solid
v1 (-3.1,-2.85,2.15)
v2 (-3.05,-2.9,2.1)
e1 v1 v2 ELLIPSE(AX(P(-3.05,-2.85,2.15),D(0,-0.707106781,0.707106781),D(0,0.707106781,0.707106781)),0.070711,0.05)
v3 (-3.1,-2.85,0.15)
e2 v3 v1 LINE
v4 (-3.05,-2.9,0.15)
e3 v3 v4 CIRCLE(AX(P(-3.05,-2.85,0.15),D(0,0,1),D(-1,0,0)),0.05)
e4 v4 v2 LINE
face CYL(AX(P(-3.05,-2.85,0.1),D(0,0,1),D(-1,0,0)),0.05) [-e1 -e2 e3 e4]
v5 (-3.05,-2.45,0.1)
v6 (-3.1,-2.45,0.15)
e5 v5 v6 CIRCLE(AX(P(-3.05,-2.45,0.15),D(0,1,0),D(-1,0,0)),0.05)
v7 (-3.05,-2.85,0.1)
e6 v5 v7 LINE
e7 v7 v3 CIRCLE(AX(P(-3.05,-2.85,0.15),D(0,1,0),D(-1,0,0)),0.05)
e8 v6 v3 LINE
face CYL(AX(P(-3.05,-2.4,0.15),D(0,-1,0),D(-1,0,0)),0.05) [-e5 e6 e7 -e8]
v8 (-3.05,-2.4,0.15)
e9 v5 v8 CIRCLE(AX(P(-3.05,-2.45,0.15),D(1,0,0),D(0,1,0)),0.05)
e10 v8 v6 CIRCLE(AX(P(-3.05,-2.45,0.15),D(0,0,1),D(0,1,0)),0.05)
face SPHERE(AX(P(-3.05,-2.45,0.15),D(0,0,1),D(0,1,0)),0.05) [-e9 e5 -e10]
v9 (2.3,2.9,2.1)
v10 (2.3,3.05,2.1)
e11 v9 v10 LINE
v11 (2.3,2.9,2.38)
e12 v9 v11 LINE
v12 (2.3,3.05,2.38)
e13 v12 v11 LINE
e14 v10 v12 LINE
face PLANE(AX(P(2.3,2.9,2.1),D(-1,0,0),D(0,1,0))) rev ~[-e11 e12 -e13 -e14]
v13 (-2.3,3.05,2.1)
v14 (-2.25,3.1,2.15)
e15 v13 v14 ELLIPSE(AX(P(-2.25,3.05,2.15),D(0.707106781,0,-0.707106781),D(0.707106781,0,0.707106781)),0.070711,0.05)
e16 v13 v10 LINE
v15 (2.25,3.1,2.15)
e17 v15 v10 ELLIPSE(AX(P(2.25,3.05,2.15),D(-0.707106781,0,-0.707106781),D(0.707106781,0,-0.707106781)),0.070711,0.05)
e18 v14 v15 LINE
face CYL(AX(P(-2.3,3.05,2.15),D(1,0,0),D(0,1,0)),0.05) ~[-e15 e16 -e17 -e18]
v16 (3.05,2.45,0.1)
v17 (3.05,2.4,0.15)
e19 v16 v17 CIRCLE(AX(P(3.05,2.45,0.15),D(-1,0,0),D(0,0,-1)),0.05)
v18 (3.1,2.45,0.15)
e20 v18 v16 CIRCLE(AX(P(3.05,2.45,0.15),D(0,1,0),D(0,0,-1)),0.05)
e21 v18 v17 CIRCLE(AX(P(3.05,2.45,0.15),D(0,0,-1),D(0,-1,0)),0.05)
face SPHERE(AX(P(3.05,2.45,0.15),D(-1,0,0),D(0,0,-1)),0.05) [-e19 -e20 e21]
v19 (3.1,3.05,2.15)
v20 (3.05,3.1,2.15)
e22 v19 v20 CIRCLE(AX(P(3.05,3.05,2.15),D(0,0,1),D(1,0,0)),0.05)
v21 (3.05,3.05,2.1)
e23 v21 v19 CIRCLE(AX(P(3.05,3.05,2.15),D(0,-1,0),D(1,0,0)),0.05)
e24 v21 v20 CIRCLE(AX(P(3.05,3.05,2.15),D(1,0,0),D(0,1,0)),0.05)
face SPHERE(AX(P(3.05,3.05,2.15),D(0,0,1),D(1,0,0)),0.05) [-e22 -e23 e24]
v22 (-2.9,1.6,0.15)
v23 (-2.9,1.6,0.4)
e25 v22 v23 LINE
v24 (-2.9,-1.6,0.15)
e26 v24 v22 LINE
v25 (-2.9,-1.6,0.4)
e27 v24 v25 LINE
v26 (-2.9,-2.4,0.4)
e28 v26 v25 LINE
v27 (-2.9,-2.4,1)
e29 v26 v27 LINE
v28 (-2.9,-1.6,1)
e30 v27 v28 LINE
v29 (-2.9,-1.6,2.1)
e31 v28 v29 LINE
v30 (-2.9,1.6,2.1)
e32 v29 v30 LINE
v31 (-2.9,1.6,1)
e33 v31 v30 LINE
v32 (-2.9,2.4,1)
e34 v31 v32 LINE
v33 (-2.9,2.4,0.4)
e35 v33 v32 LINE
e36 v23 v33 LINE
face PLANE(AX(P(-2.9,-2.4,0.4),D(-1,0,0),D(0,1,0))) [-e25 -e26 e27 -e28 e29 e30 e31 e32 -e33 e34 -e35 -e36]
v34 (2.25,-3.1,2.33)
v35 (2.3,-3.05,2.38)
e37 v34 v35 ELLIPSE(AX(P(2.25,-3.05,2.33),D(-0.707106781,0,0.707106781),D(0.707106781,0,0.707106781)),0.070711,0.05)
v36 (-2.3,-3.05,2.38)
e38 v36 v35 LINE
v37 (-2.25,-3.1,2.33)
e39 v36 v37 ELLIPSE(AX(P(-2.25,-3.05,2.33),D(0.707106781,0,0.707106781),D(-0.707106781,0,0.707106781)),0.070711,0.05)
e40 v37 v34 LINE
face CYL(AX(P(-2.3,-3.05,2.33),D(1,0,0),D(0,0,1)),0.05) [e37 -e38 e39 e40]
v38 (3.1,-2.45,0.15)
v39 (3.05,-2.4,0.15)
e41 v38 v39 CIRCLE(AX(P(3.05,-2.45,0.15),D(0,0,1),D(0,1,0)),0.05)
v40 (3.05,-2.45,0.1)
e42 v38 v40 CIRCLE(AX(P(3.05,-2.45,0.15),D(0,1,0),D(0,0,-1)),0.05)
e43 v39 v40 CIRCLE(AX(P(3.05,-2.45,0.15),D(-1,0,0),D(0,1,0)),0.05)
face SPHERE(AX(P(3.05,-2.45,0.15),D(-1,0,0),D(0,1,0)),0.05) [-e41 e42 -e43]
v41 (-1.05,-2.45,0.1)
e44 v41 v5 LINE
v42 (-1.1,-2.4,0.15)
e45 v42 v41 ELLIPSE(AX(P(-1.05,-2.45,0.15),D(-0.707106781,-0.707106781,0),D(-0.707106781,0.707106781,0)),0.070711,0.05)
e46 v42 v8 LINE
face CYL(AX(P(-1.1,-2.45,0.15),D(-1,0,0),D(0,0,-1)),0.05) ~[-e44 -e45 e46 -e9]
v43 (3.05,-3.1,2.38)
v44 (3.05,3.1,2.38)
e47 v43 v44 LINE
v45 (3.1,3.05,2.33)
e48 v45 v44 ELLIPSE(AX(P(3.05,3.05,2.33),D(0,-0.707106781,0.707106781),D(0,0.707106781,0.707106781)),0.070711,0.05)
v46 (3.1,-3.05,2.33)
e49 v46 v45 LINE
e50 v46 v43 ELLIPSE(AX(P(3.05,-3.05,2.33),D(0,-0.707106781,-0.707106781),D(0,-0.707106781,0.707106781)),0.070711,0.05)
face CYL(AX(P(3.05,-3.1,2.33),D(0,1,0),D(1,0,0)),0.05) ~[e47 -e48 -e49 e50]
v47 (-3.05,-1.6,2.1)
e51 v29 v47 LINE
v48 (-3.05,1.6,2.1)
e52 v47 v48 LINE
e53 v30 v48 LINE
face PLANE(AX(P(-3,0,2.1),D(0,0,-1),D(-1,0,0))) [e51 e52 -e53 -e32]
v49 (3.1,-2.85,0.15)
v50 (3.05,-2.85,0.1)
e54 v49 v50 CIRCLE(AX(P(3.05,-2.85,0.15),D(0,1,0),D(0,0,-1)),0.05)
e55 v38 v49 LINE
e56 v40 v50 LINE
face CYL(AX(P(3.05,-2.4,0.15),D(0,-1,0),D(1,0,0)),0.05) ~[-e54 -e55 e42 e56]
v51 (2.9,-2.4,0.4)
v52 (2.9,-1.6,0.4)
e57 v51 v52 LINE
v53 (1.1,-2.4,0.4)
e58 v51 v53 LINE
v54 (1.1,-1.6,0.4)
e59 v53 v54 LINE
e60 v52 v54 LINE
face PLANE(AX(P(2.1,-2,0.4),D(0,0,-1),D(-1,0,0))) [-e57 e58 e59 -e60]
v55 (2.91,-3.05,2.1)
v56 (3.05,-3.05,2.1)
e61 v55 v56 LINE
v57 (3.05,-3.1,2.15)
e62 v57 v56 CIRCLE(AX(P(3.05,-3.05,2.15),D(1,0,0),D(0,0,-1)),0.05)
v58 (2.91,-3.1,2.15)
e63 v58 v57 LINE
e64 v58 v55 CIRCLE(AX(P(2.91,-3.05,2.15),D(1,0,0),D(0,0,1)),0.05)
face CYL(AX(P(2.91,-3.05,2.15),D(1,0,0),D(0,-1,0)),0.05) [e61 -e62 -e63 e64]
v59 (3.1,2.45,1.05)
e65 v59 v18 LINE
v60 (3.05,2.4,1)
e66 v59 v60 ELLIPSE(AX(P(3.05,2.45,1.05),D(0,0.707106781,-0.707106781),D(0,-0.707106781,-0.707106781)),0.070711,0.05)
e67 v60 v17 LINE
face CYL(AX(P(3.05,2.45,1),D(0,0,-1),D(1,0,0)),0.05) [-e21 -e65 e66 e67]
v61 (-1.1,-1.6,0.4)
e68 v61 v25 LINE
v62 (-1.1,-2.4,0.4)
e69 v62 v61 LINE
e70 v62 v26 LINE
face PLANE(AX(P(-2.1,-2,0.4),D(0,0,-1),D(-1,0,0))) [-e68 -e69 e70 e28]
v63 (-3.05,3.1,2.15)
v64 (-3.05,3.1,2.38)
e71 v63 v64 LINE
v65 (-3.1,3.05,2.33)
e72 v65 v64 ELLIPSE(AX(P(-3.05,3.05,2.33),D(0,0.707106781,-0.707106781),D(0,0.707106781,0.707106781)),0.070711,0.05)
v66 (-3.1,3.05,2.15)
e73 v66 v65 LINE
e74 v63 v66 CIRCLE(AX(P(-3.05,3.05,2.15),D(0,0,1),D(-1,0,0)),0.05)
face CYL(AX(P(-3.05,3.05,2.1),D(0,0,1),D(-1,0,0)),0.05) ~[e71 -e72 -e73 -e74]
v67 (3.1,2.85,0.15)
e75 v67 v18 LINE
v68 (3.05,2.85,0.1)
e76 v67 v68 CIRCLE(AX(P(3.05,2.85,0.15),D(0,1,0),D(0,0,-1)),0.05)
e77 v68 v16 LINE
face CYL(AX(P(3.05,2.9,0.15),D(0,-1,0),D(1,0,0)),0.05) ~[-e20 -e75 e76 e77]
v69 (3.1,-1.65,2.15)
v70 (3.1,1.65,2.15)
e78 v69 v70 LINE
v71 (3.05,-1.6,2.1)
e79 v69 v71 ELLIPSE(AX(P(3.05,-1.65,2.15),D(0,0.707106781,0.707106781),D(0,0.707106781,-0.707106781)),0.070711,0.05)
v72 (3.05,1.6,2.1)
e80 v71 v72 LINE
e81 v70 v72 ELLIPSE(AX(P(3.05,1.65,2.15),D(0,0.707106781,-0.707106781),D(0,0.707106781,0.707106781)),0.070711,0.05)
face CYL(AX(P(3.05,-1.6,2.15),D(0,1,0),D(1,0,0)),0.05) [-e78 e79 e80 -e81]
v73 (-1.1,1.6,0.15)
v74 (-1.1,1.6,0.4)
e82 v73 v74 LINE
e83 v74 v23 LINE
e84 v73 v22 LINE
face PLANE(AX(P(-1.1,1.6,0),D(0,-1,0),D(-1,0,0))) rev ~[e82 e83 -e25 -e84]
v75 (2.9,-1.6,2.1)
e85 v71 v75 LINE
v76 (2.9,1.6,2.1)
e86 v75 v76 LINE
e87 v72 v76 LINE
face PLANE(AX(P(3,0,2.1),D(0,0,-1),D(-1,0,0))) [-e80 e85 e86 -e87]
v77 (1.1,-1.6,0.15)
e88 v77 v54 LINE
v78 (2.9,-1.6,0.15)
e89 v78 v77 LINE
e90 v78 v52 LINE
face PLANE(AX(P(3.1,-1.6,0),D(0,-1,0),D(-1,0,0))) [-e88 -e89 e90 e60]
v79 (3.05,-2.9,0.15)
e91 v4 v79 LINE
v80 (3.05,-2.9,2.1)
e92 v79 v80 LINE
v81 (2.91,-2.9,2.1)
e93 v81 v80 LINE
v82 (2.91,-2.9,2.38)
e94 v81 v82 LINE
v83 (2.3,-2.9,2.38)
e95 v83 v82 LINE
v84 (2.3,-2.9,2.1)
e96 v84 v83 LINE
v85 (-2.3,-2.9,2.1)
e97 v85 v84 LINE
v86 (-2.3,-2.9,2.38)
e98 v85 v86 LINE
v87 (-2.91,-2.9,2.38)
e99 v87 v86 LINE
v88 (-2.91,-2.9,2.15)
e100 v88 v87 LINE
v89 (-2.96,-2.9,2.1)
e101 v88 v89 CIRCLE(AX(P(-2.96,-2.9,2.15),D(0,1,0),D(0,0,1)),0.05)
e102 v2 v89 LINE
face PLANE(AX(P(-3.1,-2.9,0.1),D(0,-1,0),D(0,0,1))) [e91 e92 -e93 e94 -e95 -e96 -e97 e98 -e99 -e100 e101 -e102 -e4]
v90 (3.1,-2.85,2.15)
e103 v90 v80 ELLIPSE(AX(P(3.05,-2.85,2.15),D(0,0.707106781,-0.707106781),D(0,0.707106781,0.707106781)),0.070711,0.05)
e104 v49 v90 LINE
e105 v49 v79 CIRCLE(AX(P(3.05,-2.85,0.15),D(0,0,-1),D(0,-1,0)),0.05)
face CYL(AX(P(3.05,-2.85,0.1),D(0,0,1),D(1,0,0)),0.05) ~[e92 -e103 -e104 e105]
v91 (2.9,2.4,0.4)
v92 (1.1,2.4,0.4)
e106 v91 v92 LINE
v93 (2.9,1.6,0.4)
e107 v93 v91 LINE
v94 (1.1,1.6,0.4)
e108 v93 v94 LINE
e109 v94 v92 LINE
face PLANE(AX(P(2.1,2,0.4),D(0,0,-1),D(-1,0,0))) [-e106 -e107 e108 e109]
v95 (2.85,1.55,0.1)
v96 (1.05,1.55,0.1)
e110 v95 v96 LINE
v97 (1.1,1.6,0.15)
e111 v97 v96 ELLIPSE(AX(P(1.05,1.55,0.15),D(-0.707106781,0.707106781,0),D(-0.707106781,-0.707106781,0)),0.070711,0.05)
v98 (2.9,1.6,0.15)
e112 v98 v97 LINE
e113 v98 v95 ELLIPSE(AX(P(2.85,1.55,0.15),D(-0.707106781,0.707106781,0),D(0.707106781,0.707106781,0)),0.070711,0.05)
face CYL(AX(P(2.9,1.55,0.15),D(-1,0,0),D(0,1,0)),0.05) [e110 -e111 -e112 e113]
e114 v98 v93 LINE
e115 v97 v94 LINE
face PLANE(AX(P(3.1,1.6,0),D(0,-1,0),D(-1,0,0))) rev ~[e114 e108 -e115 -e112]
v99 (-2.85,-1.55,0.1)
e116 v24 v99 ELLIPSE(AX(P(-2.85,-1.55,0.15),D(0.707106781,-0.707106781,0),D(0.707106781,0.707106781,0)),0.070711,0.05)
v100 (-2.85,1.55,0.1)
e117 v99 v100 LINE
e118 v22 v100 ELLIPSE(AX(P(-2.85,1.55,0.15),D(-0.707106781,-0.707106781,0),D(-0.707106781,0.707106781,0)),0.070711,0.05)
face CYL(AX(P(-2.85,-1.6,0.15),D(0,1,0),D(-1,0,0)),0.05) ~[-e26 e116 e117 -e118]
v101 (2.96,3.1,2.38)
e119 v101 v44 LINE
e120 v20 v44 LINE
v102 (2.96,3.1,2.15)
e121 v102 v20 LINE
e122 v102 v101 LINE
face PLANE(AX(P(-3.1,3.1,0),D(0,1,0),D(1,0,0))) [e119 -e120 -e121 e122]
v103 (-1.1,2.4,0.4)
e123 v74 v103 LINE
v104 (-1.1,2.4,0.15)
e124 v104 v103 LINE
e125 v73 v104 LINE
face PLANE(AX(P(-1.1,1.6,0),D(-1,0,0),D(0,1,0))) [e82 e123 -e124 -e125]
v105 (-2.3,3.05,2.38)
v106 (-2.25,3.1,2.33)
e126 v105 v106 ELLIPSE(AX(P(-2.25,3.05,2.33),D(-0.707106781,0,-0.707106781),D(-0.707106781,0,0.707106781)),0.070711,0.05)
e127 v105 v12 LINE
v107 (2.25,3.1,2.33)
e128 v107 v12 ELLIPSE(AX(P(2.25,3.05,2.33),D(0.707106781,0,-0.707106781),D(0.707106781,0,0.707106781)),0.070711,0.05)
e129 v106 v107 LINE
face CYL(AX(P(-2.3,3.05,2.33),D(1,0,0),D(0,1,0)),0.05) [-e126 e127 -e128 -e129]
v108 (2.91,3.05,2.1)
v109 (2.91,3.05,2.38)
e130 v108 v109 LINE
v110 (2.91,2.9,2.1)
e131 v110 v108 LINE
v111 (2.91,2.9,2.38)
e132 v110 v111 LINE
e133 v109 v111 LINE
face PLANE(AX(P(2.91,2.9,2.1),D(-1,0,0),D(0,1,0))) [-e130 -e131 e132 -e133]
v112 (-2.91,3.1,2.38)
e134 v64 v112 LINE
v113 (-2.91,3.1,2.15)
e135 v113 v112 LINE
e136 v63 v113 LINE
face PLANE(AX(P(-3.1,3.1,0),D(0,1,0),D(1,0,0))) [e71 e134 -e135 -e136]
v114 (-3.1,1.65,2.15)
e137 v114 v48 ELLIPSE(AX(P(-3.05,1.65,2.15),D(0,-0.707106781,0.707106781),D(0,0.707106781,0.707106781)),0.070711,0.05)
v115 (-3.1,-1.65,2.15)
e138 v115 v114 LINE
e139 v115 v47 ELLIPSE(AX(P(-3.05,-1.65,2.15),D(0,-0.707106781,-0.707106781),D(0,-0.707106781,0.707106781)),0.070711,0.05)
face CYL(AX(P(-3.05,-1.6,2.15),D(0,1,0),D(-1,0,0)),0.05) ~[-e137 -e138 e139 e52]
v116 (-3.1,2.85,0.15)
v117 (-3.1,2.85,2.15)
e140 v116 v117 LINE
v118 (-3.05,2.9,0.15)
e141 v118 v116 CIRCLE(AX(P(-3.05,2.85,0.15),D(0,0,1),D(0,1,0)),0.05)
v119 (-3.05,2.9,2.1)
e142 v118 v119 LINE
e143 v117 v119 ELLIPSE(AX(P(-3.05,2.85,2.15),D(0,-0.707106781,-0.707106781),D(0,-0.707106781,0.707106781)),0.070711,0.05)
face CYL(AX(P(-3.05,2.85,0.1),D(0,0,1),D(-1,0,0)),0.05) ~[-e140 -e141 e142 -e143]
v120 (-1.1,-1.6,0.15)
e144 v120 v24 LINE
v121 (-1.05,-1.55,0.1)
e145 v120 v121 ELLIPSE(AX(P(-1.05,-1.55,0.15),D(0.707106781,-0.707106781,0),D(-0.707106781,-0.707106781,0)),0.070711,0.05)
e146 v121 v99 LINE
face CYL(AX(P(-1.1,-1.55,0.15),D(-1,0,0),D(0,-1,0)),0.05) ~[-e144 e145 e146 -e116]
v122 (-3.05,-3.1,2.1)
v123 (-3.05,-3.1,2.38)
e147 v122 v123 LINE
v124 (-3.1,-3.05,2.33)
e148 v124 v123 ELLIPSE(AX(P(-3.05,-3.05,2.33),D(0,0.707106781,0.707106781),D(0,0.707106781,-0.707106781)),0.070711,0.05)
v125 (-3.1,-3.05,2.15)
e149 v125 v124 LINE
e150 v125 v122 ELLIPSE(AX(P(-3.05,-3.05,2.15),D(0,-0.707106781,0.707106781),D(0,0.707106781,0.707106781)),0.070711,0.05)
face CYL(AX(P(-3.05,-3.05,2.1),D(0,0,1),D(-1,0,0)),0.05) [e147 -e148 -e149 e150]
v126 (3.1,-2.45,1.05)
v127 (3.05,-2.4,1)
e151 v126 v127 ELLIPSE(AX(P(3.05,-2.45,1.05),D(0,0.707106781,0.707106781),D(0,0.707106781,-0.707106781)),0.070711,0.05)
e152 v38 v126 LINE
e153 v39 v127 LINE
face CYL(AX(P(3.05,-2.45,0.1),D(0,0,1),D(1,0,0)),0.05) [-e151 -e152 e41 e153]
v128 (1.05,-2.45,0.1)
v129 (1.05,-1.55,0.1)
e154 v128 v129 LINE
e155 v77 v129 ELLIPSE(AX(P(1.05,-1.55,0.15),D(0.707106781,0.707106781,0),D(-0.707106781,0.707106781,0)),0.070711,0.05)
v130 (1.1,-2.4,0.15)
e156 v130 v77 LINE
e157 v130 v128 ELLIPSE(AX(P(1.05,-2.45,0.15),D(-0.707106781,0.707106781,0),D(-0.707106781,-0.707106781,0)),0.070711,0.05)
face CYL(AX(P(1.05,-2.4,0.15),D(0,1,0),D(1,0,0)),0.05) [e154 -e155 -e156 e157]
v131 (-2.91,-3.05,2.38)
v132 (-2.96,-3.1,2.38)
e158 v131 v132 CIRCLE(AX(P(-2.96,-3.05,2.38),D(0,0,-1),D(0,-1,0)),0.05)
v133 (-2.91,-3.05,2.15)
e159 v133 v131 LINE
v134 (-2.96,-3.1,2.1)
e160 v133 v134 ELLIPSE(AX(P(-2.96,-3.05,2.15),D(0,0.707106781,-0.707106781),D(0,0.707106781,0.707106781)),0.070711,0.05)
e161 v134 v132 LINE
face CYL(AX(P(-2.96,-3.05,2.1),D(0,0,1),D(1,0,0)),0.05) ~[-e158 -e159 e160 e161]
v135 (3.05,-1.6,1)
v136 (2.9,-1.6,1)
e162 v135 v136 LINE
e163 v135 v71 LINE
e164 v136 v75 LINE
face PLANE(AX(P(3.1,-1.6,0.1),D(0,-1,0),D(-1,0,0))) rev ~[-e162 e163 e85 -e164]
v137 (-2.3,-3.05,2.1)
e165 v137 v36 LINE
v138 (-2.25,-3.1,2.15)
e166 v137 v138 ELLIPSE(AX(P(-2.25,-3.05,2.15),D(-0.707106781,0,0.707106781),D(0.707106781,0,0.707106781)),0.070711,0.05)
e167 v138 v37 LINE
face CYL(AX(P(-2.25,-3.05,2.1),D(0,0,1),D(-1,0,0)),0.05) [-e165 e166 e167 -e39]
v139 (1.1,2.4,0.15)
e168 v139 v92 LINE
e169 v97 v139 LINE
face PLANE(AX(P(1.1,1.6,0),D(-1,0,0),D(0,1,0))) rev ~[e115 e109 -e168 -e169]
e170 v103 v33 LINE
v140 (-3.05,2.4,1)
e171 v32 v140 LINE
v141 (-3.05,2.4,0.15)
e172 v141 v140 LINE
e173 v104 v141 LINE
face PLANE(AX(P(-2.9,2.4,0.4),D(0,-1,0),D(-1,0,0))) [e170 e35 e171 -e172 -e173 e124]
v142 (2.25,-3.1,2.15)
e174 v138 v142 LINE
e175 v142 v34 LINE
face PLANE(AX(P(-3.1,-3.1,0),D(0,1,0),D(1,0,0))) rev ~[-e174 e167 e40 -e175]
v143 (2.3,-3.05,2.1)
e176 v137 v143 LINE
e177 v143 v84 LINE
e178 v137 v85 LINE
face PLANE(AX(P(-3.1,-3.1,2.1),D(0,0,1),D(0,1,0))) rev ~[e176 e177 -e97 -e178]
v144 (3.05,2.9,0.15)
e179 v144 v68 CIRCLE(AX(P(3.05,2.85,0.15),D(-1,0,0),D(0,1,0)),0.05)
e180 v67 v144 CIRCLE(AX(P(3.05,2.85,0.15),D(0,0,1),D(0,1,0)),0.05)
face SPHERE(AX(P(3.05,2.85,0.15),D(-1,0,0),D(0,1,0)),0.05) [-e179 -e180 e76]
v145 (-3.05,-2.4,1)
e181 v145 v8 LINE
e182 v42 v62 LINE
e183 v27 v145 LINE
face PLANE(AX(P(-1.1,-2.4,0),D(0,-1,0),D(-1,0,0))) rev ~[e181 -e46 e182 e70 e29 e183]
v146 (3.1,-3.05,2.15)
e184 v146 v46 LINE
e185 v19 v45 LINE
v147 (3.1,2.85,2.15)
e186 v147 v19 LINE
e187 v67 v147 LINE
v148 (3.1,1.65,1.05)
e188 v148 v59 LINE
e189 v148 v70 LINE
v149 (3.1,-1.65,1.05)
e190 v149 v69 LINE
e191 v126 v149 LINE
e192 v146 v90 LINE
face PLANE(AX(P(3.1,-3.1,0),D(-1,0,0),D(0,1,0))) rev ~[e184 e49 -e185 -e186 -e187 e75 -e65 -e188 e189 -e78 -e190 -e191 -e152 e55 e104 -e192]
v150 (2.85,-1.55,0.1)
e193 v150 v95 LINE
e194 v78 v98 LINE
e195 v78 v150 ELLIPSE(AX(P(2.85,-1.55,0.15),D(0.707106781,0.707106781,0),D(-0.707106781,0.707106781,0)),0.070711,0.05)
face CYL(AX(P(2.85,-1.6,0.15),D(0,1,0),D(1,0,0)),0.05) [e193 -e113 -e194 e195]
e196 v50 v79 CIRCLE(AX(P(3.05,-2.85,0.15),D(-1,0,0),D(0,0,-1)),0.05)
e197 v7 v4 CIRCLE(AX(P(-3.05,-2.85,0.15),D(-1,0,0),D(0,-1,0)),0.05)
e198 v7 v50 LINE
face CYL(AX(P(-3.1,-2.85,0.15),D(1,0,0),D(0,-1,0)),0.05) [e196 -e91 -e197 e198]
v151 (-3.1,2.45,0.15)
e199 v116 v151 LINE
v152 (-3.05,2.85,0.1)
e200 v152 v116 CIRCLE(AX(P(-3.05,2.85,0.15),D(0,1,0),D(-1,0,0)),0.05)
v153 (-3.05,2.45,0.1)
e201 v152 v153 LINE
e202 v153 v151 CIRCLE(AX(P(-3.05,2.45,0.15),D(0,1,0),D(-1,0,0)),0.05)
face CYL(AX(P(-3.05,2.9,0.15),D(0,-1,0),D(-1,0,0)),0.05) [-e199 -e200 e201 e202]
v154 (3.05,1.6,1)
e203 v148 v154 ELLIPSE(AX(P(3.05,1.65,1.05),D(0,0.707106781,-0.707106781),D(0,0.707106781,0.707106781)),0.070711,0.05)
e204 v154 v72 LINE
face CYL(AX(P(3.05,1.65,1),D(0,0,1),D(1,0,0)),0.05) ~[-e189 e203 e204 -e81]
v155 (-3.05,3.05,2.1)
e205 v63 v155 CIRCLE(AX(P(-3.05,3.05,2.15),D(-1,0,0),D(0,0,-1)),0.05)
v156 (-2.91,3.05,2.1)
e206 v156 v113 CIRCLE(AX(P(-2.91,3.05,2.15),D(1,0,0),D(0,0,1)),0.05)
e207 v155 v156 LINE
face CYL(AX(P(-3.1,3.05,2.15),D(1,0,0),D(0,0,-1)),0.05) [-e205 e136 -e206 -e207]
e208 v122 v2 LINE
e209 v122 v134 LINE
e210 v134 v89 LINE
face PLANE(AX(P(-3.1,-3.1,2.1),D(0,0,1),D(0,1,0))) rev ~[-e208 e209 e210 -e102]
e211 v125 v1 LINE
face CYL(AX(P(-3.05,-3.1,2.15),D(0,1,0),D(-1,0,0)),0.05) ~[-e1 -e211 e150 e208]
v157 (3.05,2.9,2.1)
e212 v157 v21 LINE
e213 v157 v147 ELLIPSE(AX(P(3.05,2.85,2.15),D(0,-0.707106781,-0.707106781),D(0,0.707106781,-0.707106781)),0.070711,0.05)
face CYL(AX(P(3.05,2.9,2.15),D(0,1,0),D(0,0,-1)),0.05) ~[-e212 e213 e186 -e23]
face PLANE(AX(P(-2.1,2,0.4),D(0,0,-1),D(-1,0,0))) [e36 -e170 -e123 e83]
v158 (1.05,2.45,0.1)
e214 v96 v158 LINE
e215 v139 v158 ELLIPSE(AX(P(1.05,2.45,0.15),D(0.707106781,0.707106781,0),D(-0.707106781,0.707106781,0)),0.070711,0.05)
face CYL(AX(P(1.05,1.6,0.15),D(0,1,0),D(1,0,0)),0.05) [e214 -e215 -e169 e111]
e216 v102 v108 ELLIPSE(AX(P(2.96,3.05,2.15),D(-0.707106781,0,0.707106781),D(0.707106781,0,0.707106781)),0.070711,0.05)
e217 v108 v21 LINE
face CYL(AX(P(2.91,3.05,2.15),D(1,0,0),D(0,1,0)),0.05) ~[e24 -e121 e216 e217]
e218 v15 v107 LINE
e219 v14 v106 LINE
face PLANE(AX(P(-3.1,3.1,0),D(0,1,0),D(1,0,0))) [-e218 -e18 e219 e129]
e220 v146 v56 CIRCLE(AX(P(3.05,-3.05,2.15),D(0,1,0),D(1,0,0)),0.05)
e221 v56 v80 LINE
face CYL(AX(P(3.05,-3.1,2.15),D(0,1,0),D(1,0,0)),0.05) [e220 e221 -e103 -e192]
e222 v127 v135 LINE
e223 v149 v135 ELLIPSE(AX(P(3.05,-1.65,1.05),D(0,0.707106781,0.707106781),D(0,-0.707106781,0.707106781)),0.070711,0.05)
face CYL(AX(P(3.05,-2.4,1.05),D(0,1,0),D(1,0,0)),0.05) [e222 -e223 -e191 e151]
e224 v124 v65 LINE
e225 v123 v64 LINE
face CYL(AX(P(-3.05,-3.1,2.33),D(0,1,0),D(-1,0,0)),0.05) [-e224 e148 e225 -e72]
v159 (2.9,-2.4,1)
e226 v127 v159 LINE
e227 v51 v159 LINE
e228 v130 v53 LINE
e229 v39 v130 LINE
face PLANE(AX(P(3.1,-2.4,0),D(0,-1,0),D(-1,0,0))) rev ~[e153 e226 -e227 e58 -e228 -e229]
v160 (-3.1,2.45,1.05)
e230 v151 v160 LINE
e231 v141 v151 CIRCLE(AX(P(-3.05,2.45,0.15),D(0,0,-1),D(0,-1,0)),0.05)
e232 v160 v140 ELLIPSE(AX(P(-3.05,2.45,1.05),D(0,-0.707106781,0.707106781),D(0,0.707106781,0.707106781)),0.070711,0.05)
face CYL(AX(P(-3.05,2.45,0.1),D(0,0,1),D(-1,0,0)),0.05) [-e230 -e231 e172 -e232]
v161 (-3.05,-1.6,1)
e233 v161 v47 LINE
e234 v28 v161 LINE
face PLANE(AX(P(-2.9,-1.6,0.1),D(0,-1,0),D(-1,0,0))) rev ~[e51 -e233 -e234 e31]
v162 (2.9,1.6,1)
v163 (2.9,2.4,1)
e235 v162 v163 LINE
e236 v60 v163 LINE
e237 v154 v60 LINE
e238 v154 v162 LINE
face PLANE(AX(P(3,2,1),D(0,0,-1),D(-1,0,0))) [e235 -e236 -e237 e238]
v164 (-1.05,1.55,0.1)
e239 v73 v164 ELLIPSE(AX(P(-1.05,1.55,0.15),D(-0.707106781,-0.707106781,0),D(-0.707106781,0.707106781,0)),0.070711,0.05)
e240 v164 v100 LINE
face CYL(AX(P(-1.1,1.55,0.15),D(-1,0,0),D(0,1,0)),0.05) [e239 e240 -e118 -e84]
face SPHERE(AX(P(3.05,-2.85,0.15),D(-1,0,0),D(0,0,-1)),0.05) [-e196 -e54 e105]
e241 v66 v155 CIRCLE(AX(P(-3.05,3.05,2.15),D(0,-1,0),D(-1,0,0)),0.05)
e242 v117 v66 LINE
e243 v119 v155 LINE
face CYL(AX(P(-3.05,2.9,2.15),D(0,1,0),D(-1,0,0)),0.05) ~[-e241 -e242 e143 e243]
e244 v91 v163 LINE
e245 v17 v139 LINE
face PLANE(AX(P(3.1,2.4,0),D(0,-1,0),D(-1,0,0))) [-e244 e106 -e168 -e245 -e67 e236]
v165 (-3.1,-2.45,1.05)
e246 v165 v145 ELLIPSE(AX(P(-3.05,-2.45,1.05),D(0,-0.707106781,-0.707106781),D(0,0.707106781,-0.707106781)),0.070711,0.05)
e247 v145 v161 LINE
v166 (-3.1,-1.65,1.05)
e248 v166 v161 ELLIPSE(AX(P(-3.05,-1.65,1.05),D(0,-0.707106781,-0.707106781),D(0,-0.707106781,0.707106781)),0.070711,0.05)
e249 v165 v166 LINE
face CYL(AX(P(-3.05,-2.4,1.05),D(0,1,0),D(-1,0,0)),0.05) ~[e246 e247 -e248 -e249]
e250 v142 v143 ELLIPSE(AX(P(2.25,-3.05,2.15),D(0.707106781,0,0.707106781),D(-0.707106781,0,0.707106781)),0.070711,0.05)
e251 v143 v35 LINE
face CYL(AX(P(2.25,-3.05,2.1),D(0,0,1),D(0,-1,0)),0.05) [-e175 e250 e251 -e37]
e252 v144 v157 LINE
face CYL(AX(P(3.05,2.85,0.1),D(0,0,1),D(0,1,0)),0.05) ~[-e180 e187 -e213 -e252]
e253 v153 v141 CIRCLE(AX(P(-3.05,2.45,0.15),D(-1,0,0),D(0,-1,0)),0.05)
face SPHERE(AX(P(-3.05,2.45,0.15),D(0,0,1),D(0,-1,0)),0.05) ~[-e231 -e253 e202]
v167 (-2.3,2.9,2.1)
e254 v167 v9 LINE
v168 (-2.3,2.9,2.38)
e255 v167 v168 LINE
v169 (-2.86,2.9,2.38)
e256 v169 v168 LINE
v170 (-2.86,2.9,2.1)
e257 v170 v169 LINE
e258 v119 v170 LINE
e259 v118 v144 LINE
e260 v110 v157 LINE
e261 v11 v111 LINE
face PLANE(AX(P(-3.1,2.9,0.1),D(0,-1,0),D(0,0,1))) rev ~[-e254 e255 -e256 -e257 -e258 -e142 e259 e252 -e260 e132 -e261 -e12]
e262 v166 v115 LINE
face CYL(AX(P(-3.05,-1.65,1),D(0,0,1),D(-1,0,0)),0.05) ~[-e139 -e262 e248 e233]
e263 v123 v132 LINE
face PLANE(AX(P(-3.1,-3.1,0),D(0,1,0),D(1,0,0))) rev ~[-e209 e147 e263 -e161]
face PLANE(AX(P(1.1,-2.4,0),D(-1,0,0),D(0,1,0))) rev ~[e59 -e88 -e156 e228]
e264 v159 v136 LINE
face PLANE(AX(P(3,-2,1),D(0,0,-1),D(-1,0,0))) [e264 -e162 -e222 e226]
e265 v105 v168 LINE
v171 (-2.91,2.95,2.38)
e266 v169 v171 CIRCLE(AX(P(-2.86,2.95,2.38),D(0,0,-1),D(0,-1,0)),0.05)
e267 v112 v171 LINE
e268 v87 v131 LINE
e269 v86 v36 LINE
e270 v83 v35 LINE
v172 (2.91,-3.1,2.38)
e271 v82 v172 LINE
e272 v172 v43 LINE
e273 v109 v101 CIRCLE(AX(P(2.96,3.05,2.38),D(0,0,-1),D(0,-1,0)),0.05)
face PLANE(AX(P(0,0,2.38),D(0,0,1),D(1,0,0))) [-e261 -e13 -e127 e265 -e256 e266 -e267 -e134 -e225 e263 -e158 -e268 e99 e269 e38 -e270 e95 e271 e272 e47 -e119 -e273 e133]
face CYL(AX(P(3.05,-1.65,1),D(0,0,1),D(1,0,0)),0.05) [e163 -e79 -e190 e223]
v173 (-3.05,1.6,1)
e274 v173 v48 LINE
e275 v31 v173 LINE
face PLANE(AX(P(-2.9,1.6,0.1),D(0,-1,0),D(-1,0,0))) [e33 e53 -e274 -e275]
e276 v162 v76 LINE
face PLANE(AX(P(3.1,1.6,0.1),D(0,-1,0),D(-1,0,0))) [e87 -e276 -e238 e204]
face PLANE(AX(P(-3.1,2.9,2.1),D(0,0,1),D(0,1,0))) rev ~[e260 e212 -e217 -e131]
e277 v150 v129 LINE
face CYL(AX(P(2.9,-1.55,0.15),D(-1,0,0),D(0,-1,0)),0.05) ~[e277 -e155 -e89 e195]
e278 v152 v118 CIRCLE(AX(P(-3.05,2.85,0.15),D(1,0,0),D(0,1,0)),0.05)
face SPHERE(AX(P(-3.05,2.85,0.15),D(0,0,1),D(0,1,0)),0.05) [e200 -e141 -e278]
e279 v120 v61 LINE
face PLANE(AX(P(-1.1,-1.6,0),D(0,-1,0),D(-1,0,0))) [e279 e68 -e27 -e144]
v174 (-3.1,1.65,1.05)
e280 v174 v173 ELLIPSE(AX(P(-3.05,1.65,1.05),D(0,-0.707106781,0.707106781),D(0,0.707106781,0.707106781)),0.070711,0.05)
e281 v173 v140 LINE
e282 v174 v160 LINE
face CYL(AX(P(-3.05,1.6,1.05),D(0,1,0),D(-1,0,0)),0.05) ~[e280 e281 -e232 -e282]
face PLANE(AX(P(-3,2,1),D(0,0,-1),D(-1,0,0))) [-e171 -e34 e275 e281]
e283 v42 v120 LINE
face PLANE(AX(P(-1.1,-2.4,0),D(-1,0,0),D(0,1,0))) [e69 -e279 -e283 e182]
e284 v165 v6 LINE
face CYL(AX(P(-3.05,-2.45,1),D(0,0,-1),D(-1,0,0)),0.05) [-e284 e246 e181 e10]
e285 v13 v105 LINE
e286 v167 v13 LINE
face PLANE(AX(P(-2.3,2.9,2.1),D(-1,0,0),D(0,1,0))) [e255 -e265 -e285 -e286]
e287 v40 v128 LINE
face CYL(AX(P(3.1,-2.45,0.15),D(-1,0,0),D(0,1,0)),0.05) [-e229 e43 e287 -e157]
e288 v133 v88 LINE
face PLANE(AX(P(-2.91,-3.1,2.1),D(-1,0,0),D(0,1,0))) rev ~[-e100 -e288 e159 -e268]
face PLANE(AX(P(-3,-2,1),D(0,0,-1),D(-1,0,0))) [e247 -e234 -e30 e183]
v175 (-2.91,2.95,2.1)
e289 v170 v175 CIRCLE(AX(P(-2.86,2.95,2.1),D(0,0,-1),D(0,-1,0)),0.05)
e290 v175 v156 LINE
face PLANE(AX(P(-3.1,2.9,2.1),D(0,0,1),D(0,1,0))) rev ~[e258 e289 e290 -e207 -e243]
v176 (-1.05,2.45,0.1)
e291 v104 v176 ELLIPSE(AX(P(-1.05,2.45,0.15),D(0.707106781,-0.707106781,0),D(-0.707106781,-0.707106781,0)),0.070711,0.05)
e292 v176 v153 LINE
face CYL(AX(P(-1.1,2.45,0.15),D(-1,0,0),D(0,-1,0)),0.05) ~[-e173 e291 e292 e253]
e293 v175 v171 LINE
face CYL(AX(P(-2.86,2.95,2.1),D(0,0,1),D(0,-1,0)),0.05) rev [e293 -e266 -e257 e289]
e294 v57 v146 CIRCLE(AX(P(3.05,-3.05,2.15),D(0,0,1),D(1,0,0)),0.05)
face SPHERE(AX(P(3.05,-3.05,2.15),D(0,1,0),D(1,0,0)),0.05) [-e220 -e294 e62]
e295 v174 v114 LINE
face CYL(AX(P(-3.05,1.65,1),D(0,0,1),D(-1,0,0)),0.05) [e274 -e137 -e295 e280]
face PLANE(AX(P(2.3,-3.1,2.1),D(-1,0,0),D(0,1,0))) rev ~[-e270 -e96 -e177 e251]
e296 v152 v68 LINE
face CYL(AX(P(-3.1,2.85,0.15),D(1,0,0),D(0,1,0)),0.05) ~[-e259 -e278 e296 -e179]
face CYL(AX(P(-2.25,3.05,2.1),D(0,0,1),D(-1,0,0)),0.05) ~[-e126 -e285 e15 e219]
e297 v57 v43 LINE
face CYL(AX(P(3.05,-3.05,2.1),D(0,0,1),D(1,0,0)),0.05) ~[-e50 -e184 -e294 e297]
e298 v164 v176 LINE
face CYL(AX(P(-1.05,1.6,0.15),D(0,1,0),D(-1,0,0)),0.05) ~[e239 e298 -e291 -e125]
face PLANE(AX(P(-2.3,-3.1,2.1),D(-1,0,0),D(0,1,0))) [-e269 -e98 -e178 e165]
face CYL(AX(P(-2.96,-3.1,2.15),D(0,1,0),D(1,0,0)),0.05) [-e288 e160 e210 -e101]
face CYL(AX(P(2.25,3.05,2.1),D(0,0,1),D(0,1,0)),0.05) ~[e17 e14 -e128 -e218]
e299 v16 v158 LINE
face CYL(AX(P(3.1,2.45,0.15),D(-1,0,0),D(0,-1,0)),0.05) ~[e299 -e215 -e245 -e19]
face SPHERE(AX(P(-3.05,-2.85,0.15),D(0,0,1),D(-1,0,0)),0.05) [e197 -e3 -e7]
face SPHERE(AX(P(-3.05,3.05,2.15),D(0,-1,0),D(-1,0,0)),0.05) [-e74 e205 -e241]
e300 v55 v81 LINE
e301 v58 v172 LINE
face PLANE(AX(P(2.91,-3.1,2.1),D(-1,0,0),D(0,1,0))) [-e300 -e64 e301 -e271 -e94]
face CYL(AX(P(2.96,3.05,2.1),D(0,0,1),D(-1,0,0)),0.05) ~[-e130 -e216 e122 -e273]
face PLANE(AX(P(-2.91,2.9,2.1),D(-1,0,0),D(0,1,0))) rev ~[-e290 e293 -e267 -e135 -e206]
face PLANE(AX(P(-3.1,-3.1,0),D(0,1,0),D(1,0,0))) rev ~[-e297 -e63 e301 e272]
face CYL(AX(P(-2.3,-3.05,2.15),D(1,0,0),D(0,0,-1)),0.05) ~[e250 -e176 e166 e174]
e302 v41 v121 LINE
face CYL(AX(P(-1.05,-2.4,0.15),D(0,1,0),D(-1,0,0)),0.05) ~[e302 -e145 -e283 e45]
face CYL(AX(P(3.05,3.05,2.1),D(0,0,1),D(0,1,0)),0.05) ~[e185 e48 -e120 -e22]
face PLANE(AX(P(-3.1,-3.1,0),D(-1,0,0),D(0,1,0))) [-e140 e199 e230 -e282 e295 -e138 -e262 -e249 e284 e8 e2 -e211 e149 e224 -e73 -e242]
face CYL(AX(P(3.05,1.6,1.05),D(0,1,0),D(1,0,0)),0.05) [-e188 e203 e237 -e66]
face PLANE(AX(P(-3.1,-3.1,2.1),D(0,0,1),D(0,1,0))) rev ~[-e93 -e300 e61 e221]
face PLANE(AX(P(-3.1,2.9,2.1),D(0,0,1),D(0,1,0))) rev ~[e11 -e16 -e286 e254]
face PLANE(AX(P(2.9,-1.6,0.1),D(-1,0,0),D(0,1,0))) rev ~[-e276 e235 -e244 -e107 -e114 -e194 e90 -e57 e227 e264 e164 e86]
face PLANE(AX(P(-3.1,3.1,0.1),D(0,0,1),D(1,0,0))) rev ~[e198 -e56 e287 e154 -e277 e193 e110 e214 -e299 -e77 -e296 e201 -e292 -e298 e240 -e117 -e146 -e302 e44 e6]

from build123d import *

# Parameters (mm, degrees)
SKETCH1_W           = 6.2
SKETCH1_H           = 6.2
BOSS_EXTRUDE1_DEPTH = 2.38
SKETCH2_W           = 2
SKETCH2_H           = 0.8
CUT_EXTRUDE1_DEPTH  = 0.4
SKETCH3_W           = 6.2
SKETCH3_H           = 0.1
CUT_EXTRUDE2_DEPTH  = 7.2
SKETCH14_W          = 0.2
SKETCH14_H          = 3.2
CUT_EXTRUDE3_DEPTH  = 2
SKETCH16_W          = 2
SKETCH16_H          = 0.2
CUT_EXTRUDE4_DEPTH  = 7.2
SKETCH19_W          = 0.61
SKETCH19_H          = 0.2
CUT_EXTRUDE5_DEPTH  = 1.28
SKETCH20_W          = 0.2
SKETCH20_H          = 0.8
CUT_EXTRUDE6_DEPTH  = 0.6
FILLET1_R           = 0.05


with BuildPart() as part:
    # Sketch1 → Boss-Extrude1 (new body)
    with BuildSketch(Plane.XY):
        Rectangle(SKETCH1_W, SKETCH1_H)
    extrude(amount=BOSS_EXTRUDE1_DEPTH)

    # Sketch2 → Cut-Extrude1 (cut)
    with BuildSketch(Plane(origin=(0, 0, 0), x_dir=(-1, 0, 0), z_dir=(0, 0, -1))):
        with Locations((-2.1, 2)):
            Rectangle(SKETCH2_W, SKETCH2_H)
        with Locations((2.1, 2)):
            Rectangle(SKETCH2_W, SKETCH2_H)
        with Locations((2.1, -2)):
            Rectangle(SKETCH2_W, SKETCH2_H)
        with Locations((-2.1, -2)):
            Rectangle(SKETCH2_W, SKETCH2_H)
    extrude(amount=-CUT_EXTRUDE1_DEPTH, mode=Mode.SUBTRACT)

    # Sketch3 → Cut-Extrude2 (cut, through all)
    with BuildSketch(Plane(origin=(0, 3.1, 0), x_dir=(1, 0, 0), z_dir=(0, 1, 0))):
        with Locations((0, -0.05)):
            Rectangle(SKETCH3_W, SKETCH3_H)
    extrude(amount=-CUT_EXTRUDE2_DEPTH, mode=Mode.SUBTRACT)

    # Sketch14 → Cut-Extrude3 (cut)
    with BuildSketch(Plane(origin=(0, 0, 0.1), x_dir=(-1, 0, 0), z_dir=(0, 0, -1))):
        with Locations((3, 0)):
            Rectangle(SKETCH14_W, SKETCH14_H)
        with Locations((-3, 0)):
            Rectangle(SKETCH14_W, SKETCH14_H)
    extrude(amount=-CUT_EXTRUDE3_DEPTH, mode=Mode.SUBTRACT)

    # Sketch16 → Cut-Extrude4 (cut, through all)
    with BuildSketch(Plane.ZY.offset(3.1)):
        with Locations((1.1, -3)):
            Rectangle(SKETCH16_W, SKETCH16_H)
        with Locations((1.1, 3)):
            Rectangle(SKETCH16_W, SKETCH16_H)
    extrude(amount=-CUT_EXTRUDE4_DEPTH, mode=Mode.SUBTRACT)

    # Sketch19 → Cut-Extrude5 (cut, through all)
    with BuildSketch(Plane(origin=(0, 0, 2.1), x_dir=(-1, 0, 0), z_dir=(0, 0, -1))):
        with Locations((-2.605, -3)):
            Rectangle(SKETCH19_W, SKETCH19_H)
        with Locations((2.605, -3)):
            Rectangle(SKETCH19_W, SKETCH19_H)
        with Locations((2.605, 3)):
            Rectangle(SKETCH19_W, SKETCH19_H)
        with Locations((-2.605, 3)):
            Rectangle(SKETCH19_W, SKETCH19_H)
    extrude(amount=-CUT_EXTRUDE5_DEPTH, mode=Mode.SUBTRACT)

    # Sketch20 → Cut-Extrude6 (cut)
    with BuildSketch(Plane(origin=(0, 0, 0.4), x_dir=(-1, 0, 0), z_dir=(0, 0, -1))):
        with Locations((-3, -2)):
            Rectangle(SKETCH20_W, SKETCH20_H)
        with Locations((-3, 2)):
            Rectangle(SKETCH20_W, SKETCH20_H)
        with Locations((3, 2)):
            Rectangle(SKETCH20_W, SKETCH20_H)
        with Locations((3, -2)):
            Rectangle(SKETCH20_W, SKETCH20_H)
    extrude(amount=-CUT_EXTRUDE6_DEPTH, mode=Mode.SUBTRACT)

    # Fillet1
    fillet1_edges = [part.edges().sort_by_distance(p)[0] for p in [
        (2.3, -3.1, 2.24),
        (0, -3.1, 2.1),
        (-2.3, -3.1, 2.24),
        (0, -3.1, 2.38),
        (-2.3, 3.1, 2.24),
        (0, 3.1, 2.1),
        (2.3, 3.1, 2.24),
        (0, 3.1, 2.38),
        (-3.1, -1.6, 1.55),
        (-3.1, 0, 2.1),
        (-3.1, 1.6, 1.55),
        (-3.1, 2, 1),
        (-3.1, 2.4, 0.55),
        (-3.1, 2.9, 1.1),
        (-3.1, 3, 2.1),
        (-3.1, 3.1, 2.24),
        (-3.1, 0, 2.38),
        (-3.1, -3.1, 2.24),
        (-3.1, -3, 2.1),
        (-3.1, -2.9, 1.1),
        (-3.1, -2.4, 0.55),
        (-3.1, -2, 1),
        (-2.1, 2.4, 0.1),
        (-1.1, 2, 0.1),
        (-2, 1.6, 0.1),
        (-2.9, 0, 0.1),
        (-2, -1.6, 0.1),
        (-1.1, -2, 0.1),
        (-2.1, -2.4, 0.1),
        (-3.1, -2.65, 0.1),
        (0, -2.9, 0.1),
        (2.1, -2.4, 0.1),
        (1.1, -2, 0.1),
        (2, -1.6, 0.1),
        (2.9, 0, 0.1),
        (2, 1.6, 0.1),
        (1.1, 2, 0.1),
        (2.1, 2.4, 0.1),
        (0, 2.9, 0.1),
        (-3.1, 2.65, 0.1),
        (3.1, 1.6, 1.55),
        (3.1, 0, 2.1),
        (3.1, -1.6, 1.55),
        (3.1, -2, 1),
        (3.1, -2.4, 0.55),
        (3.1, -2.65, 0.1),
        (3.1, -2.9, 1.1),
        (3.1, -3, 2.1),
        (3.1, -3.1, 2.24),
        (3.1, 0, 2.38),
        (3.1, 3.1, 2.24),
        (3.1, 3, 2.1),
        (3.1, 2.9, 1.1),
        (3.1, 2.65, 0.1),
        (3.1, 2.4, 0.55),
        (3.1, 2, 1),
        (3.005, -3.1, 2.1),
        (-2.91, -3.1, 2.24),
        (-2.91, -3, 2.1),
        (3.005, 3.1, 2.1),
        (2.91, 3.1, 2.24),
        (-3.005, 3.1, 2.1),
        (-2.91, 2.9, 2.24),
    ]]
    fillet(fillet1_edges, radius=FILLET1_R)


solid = part.part
